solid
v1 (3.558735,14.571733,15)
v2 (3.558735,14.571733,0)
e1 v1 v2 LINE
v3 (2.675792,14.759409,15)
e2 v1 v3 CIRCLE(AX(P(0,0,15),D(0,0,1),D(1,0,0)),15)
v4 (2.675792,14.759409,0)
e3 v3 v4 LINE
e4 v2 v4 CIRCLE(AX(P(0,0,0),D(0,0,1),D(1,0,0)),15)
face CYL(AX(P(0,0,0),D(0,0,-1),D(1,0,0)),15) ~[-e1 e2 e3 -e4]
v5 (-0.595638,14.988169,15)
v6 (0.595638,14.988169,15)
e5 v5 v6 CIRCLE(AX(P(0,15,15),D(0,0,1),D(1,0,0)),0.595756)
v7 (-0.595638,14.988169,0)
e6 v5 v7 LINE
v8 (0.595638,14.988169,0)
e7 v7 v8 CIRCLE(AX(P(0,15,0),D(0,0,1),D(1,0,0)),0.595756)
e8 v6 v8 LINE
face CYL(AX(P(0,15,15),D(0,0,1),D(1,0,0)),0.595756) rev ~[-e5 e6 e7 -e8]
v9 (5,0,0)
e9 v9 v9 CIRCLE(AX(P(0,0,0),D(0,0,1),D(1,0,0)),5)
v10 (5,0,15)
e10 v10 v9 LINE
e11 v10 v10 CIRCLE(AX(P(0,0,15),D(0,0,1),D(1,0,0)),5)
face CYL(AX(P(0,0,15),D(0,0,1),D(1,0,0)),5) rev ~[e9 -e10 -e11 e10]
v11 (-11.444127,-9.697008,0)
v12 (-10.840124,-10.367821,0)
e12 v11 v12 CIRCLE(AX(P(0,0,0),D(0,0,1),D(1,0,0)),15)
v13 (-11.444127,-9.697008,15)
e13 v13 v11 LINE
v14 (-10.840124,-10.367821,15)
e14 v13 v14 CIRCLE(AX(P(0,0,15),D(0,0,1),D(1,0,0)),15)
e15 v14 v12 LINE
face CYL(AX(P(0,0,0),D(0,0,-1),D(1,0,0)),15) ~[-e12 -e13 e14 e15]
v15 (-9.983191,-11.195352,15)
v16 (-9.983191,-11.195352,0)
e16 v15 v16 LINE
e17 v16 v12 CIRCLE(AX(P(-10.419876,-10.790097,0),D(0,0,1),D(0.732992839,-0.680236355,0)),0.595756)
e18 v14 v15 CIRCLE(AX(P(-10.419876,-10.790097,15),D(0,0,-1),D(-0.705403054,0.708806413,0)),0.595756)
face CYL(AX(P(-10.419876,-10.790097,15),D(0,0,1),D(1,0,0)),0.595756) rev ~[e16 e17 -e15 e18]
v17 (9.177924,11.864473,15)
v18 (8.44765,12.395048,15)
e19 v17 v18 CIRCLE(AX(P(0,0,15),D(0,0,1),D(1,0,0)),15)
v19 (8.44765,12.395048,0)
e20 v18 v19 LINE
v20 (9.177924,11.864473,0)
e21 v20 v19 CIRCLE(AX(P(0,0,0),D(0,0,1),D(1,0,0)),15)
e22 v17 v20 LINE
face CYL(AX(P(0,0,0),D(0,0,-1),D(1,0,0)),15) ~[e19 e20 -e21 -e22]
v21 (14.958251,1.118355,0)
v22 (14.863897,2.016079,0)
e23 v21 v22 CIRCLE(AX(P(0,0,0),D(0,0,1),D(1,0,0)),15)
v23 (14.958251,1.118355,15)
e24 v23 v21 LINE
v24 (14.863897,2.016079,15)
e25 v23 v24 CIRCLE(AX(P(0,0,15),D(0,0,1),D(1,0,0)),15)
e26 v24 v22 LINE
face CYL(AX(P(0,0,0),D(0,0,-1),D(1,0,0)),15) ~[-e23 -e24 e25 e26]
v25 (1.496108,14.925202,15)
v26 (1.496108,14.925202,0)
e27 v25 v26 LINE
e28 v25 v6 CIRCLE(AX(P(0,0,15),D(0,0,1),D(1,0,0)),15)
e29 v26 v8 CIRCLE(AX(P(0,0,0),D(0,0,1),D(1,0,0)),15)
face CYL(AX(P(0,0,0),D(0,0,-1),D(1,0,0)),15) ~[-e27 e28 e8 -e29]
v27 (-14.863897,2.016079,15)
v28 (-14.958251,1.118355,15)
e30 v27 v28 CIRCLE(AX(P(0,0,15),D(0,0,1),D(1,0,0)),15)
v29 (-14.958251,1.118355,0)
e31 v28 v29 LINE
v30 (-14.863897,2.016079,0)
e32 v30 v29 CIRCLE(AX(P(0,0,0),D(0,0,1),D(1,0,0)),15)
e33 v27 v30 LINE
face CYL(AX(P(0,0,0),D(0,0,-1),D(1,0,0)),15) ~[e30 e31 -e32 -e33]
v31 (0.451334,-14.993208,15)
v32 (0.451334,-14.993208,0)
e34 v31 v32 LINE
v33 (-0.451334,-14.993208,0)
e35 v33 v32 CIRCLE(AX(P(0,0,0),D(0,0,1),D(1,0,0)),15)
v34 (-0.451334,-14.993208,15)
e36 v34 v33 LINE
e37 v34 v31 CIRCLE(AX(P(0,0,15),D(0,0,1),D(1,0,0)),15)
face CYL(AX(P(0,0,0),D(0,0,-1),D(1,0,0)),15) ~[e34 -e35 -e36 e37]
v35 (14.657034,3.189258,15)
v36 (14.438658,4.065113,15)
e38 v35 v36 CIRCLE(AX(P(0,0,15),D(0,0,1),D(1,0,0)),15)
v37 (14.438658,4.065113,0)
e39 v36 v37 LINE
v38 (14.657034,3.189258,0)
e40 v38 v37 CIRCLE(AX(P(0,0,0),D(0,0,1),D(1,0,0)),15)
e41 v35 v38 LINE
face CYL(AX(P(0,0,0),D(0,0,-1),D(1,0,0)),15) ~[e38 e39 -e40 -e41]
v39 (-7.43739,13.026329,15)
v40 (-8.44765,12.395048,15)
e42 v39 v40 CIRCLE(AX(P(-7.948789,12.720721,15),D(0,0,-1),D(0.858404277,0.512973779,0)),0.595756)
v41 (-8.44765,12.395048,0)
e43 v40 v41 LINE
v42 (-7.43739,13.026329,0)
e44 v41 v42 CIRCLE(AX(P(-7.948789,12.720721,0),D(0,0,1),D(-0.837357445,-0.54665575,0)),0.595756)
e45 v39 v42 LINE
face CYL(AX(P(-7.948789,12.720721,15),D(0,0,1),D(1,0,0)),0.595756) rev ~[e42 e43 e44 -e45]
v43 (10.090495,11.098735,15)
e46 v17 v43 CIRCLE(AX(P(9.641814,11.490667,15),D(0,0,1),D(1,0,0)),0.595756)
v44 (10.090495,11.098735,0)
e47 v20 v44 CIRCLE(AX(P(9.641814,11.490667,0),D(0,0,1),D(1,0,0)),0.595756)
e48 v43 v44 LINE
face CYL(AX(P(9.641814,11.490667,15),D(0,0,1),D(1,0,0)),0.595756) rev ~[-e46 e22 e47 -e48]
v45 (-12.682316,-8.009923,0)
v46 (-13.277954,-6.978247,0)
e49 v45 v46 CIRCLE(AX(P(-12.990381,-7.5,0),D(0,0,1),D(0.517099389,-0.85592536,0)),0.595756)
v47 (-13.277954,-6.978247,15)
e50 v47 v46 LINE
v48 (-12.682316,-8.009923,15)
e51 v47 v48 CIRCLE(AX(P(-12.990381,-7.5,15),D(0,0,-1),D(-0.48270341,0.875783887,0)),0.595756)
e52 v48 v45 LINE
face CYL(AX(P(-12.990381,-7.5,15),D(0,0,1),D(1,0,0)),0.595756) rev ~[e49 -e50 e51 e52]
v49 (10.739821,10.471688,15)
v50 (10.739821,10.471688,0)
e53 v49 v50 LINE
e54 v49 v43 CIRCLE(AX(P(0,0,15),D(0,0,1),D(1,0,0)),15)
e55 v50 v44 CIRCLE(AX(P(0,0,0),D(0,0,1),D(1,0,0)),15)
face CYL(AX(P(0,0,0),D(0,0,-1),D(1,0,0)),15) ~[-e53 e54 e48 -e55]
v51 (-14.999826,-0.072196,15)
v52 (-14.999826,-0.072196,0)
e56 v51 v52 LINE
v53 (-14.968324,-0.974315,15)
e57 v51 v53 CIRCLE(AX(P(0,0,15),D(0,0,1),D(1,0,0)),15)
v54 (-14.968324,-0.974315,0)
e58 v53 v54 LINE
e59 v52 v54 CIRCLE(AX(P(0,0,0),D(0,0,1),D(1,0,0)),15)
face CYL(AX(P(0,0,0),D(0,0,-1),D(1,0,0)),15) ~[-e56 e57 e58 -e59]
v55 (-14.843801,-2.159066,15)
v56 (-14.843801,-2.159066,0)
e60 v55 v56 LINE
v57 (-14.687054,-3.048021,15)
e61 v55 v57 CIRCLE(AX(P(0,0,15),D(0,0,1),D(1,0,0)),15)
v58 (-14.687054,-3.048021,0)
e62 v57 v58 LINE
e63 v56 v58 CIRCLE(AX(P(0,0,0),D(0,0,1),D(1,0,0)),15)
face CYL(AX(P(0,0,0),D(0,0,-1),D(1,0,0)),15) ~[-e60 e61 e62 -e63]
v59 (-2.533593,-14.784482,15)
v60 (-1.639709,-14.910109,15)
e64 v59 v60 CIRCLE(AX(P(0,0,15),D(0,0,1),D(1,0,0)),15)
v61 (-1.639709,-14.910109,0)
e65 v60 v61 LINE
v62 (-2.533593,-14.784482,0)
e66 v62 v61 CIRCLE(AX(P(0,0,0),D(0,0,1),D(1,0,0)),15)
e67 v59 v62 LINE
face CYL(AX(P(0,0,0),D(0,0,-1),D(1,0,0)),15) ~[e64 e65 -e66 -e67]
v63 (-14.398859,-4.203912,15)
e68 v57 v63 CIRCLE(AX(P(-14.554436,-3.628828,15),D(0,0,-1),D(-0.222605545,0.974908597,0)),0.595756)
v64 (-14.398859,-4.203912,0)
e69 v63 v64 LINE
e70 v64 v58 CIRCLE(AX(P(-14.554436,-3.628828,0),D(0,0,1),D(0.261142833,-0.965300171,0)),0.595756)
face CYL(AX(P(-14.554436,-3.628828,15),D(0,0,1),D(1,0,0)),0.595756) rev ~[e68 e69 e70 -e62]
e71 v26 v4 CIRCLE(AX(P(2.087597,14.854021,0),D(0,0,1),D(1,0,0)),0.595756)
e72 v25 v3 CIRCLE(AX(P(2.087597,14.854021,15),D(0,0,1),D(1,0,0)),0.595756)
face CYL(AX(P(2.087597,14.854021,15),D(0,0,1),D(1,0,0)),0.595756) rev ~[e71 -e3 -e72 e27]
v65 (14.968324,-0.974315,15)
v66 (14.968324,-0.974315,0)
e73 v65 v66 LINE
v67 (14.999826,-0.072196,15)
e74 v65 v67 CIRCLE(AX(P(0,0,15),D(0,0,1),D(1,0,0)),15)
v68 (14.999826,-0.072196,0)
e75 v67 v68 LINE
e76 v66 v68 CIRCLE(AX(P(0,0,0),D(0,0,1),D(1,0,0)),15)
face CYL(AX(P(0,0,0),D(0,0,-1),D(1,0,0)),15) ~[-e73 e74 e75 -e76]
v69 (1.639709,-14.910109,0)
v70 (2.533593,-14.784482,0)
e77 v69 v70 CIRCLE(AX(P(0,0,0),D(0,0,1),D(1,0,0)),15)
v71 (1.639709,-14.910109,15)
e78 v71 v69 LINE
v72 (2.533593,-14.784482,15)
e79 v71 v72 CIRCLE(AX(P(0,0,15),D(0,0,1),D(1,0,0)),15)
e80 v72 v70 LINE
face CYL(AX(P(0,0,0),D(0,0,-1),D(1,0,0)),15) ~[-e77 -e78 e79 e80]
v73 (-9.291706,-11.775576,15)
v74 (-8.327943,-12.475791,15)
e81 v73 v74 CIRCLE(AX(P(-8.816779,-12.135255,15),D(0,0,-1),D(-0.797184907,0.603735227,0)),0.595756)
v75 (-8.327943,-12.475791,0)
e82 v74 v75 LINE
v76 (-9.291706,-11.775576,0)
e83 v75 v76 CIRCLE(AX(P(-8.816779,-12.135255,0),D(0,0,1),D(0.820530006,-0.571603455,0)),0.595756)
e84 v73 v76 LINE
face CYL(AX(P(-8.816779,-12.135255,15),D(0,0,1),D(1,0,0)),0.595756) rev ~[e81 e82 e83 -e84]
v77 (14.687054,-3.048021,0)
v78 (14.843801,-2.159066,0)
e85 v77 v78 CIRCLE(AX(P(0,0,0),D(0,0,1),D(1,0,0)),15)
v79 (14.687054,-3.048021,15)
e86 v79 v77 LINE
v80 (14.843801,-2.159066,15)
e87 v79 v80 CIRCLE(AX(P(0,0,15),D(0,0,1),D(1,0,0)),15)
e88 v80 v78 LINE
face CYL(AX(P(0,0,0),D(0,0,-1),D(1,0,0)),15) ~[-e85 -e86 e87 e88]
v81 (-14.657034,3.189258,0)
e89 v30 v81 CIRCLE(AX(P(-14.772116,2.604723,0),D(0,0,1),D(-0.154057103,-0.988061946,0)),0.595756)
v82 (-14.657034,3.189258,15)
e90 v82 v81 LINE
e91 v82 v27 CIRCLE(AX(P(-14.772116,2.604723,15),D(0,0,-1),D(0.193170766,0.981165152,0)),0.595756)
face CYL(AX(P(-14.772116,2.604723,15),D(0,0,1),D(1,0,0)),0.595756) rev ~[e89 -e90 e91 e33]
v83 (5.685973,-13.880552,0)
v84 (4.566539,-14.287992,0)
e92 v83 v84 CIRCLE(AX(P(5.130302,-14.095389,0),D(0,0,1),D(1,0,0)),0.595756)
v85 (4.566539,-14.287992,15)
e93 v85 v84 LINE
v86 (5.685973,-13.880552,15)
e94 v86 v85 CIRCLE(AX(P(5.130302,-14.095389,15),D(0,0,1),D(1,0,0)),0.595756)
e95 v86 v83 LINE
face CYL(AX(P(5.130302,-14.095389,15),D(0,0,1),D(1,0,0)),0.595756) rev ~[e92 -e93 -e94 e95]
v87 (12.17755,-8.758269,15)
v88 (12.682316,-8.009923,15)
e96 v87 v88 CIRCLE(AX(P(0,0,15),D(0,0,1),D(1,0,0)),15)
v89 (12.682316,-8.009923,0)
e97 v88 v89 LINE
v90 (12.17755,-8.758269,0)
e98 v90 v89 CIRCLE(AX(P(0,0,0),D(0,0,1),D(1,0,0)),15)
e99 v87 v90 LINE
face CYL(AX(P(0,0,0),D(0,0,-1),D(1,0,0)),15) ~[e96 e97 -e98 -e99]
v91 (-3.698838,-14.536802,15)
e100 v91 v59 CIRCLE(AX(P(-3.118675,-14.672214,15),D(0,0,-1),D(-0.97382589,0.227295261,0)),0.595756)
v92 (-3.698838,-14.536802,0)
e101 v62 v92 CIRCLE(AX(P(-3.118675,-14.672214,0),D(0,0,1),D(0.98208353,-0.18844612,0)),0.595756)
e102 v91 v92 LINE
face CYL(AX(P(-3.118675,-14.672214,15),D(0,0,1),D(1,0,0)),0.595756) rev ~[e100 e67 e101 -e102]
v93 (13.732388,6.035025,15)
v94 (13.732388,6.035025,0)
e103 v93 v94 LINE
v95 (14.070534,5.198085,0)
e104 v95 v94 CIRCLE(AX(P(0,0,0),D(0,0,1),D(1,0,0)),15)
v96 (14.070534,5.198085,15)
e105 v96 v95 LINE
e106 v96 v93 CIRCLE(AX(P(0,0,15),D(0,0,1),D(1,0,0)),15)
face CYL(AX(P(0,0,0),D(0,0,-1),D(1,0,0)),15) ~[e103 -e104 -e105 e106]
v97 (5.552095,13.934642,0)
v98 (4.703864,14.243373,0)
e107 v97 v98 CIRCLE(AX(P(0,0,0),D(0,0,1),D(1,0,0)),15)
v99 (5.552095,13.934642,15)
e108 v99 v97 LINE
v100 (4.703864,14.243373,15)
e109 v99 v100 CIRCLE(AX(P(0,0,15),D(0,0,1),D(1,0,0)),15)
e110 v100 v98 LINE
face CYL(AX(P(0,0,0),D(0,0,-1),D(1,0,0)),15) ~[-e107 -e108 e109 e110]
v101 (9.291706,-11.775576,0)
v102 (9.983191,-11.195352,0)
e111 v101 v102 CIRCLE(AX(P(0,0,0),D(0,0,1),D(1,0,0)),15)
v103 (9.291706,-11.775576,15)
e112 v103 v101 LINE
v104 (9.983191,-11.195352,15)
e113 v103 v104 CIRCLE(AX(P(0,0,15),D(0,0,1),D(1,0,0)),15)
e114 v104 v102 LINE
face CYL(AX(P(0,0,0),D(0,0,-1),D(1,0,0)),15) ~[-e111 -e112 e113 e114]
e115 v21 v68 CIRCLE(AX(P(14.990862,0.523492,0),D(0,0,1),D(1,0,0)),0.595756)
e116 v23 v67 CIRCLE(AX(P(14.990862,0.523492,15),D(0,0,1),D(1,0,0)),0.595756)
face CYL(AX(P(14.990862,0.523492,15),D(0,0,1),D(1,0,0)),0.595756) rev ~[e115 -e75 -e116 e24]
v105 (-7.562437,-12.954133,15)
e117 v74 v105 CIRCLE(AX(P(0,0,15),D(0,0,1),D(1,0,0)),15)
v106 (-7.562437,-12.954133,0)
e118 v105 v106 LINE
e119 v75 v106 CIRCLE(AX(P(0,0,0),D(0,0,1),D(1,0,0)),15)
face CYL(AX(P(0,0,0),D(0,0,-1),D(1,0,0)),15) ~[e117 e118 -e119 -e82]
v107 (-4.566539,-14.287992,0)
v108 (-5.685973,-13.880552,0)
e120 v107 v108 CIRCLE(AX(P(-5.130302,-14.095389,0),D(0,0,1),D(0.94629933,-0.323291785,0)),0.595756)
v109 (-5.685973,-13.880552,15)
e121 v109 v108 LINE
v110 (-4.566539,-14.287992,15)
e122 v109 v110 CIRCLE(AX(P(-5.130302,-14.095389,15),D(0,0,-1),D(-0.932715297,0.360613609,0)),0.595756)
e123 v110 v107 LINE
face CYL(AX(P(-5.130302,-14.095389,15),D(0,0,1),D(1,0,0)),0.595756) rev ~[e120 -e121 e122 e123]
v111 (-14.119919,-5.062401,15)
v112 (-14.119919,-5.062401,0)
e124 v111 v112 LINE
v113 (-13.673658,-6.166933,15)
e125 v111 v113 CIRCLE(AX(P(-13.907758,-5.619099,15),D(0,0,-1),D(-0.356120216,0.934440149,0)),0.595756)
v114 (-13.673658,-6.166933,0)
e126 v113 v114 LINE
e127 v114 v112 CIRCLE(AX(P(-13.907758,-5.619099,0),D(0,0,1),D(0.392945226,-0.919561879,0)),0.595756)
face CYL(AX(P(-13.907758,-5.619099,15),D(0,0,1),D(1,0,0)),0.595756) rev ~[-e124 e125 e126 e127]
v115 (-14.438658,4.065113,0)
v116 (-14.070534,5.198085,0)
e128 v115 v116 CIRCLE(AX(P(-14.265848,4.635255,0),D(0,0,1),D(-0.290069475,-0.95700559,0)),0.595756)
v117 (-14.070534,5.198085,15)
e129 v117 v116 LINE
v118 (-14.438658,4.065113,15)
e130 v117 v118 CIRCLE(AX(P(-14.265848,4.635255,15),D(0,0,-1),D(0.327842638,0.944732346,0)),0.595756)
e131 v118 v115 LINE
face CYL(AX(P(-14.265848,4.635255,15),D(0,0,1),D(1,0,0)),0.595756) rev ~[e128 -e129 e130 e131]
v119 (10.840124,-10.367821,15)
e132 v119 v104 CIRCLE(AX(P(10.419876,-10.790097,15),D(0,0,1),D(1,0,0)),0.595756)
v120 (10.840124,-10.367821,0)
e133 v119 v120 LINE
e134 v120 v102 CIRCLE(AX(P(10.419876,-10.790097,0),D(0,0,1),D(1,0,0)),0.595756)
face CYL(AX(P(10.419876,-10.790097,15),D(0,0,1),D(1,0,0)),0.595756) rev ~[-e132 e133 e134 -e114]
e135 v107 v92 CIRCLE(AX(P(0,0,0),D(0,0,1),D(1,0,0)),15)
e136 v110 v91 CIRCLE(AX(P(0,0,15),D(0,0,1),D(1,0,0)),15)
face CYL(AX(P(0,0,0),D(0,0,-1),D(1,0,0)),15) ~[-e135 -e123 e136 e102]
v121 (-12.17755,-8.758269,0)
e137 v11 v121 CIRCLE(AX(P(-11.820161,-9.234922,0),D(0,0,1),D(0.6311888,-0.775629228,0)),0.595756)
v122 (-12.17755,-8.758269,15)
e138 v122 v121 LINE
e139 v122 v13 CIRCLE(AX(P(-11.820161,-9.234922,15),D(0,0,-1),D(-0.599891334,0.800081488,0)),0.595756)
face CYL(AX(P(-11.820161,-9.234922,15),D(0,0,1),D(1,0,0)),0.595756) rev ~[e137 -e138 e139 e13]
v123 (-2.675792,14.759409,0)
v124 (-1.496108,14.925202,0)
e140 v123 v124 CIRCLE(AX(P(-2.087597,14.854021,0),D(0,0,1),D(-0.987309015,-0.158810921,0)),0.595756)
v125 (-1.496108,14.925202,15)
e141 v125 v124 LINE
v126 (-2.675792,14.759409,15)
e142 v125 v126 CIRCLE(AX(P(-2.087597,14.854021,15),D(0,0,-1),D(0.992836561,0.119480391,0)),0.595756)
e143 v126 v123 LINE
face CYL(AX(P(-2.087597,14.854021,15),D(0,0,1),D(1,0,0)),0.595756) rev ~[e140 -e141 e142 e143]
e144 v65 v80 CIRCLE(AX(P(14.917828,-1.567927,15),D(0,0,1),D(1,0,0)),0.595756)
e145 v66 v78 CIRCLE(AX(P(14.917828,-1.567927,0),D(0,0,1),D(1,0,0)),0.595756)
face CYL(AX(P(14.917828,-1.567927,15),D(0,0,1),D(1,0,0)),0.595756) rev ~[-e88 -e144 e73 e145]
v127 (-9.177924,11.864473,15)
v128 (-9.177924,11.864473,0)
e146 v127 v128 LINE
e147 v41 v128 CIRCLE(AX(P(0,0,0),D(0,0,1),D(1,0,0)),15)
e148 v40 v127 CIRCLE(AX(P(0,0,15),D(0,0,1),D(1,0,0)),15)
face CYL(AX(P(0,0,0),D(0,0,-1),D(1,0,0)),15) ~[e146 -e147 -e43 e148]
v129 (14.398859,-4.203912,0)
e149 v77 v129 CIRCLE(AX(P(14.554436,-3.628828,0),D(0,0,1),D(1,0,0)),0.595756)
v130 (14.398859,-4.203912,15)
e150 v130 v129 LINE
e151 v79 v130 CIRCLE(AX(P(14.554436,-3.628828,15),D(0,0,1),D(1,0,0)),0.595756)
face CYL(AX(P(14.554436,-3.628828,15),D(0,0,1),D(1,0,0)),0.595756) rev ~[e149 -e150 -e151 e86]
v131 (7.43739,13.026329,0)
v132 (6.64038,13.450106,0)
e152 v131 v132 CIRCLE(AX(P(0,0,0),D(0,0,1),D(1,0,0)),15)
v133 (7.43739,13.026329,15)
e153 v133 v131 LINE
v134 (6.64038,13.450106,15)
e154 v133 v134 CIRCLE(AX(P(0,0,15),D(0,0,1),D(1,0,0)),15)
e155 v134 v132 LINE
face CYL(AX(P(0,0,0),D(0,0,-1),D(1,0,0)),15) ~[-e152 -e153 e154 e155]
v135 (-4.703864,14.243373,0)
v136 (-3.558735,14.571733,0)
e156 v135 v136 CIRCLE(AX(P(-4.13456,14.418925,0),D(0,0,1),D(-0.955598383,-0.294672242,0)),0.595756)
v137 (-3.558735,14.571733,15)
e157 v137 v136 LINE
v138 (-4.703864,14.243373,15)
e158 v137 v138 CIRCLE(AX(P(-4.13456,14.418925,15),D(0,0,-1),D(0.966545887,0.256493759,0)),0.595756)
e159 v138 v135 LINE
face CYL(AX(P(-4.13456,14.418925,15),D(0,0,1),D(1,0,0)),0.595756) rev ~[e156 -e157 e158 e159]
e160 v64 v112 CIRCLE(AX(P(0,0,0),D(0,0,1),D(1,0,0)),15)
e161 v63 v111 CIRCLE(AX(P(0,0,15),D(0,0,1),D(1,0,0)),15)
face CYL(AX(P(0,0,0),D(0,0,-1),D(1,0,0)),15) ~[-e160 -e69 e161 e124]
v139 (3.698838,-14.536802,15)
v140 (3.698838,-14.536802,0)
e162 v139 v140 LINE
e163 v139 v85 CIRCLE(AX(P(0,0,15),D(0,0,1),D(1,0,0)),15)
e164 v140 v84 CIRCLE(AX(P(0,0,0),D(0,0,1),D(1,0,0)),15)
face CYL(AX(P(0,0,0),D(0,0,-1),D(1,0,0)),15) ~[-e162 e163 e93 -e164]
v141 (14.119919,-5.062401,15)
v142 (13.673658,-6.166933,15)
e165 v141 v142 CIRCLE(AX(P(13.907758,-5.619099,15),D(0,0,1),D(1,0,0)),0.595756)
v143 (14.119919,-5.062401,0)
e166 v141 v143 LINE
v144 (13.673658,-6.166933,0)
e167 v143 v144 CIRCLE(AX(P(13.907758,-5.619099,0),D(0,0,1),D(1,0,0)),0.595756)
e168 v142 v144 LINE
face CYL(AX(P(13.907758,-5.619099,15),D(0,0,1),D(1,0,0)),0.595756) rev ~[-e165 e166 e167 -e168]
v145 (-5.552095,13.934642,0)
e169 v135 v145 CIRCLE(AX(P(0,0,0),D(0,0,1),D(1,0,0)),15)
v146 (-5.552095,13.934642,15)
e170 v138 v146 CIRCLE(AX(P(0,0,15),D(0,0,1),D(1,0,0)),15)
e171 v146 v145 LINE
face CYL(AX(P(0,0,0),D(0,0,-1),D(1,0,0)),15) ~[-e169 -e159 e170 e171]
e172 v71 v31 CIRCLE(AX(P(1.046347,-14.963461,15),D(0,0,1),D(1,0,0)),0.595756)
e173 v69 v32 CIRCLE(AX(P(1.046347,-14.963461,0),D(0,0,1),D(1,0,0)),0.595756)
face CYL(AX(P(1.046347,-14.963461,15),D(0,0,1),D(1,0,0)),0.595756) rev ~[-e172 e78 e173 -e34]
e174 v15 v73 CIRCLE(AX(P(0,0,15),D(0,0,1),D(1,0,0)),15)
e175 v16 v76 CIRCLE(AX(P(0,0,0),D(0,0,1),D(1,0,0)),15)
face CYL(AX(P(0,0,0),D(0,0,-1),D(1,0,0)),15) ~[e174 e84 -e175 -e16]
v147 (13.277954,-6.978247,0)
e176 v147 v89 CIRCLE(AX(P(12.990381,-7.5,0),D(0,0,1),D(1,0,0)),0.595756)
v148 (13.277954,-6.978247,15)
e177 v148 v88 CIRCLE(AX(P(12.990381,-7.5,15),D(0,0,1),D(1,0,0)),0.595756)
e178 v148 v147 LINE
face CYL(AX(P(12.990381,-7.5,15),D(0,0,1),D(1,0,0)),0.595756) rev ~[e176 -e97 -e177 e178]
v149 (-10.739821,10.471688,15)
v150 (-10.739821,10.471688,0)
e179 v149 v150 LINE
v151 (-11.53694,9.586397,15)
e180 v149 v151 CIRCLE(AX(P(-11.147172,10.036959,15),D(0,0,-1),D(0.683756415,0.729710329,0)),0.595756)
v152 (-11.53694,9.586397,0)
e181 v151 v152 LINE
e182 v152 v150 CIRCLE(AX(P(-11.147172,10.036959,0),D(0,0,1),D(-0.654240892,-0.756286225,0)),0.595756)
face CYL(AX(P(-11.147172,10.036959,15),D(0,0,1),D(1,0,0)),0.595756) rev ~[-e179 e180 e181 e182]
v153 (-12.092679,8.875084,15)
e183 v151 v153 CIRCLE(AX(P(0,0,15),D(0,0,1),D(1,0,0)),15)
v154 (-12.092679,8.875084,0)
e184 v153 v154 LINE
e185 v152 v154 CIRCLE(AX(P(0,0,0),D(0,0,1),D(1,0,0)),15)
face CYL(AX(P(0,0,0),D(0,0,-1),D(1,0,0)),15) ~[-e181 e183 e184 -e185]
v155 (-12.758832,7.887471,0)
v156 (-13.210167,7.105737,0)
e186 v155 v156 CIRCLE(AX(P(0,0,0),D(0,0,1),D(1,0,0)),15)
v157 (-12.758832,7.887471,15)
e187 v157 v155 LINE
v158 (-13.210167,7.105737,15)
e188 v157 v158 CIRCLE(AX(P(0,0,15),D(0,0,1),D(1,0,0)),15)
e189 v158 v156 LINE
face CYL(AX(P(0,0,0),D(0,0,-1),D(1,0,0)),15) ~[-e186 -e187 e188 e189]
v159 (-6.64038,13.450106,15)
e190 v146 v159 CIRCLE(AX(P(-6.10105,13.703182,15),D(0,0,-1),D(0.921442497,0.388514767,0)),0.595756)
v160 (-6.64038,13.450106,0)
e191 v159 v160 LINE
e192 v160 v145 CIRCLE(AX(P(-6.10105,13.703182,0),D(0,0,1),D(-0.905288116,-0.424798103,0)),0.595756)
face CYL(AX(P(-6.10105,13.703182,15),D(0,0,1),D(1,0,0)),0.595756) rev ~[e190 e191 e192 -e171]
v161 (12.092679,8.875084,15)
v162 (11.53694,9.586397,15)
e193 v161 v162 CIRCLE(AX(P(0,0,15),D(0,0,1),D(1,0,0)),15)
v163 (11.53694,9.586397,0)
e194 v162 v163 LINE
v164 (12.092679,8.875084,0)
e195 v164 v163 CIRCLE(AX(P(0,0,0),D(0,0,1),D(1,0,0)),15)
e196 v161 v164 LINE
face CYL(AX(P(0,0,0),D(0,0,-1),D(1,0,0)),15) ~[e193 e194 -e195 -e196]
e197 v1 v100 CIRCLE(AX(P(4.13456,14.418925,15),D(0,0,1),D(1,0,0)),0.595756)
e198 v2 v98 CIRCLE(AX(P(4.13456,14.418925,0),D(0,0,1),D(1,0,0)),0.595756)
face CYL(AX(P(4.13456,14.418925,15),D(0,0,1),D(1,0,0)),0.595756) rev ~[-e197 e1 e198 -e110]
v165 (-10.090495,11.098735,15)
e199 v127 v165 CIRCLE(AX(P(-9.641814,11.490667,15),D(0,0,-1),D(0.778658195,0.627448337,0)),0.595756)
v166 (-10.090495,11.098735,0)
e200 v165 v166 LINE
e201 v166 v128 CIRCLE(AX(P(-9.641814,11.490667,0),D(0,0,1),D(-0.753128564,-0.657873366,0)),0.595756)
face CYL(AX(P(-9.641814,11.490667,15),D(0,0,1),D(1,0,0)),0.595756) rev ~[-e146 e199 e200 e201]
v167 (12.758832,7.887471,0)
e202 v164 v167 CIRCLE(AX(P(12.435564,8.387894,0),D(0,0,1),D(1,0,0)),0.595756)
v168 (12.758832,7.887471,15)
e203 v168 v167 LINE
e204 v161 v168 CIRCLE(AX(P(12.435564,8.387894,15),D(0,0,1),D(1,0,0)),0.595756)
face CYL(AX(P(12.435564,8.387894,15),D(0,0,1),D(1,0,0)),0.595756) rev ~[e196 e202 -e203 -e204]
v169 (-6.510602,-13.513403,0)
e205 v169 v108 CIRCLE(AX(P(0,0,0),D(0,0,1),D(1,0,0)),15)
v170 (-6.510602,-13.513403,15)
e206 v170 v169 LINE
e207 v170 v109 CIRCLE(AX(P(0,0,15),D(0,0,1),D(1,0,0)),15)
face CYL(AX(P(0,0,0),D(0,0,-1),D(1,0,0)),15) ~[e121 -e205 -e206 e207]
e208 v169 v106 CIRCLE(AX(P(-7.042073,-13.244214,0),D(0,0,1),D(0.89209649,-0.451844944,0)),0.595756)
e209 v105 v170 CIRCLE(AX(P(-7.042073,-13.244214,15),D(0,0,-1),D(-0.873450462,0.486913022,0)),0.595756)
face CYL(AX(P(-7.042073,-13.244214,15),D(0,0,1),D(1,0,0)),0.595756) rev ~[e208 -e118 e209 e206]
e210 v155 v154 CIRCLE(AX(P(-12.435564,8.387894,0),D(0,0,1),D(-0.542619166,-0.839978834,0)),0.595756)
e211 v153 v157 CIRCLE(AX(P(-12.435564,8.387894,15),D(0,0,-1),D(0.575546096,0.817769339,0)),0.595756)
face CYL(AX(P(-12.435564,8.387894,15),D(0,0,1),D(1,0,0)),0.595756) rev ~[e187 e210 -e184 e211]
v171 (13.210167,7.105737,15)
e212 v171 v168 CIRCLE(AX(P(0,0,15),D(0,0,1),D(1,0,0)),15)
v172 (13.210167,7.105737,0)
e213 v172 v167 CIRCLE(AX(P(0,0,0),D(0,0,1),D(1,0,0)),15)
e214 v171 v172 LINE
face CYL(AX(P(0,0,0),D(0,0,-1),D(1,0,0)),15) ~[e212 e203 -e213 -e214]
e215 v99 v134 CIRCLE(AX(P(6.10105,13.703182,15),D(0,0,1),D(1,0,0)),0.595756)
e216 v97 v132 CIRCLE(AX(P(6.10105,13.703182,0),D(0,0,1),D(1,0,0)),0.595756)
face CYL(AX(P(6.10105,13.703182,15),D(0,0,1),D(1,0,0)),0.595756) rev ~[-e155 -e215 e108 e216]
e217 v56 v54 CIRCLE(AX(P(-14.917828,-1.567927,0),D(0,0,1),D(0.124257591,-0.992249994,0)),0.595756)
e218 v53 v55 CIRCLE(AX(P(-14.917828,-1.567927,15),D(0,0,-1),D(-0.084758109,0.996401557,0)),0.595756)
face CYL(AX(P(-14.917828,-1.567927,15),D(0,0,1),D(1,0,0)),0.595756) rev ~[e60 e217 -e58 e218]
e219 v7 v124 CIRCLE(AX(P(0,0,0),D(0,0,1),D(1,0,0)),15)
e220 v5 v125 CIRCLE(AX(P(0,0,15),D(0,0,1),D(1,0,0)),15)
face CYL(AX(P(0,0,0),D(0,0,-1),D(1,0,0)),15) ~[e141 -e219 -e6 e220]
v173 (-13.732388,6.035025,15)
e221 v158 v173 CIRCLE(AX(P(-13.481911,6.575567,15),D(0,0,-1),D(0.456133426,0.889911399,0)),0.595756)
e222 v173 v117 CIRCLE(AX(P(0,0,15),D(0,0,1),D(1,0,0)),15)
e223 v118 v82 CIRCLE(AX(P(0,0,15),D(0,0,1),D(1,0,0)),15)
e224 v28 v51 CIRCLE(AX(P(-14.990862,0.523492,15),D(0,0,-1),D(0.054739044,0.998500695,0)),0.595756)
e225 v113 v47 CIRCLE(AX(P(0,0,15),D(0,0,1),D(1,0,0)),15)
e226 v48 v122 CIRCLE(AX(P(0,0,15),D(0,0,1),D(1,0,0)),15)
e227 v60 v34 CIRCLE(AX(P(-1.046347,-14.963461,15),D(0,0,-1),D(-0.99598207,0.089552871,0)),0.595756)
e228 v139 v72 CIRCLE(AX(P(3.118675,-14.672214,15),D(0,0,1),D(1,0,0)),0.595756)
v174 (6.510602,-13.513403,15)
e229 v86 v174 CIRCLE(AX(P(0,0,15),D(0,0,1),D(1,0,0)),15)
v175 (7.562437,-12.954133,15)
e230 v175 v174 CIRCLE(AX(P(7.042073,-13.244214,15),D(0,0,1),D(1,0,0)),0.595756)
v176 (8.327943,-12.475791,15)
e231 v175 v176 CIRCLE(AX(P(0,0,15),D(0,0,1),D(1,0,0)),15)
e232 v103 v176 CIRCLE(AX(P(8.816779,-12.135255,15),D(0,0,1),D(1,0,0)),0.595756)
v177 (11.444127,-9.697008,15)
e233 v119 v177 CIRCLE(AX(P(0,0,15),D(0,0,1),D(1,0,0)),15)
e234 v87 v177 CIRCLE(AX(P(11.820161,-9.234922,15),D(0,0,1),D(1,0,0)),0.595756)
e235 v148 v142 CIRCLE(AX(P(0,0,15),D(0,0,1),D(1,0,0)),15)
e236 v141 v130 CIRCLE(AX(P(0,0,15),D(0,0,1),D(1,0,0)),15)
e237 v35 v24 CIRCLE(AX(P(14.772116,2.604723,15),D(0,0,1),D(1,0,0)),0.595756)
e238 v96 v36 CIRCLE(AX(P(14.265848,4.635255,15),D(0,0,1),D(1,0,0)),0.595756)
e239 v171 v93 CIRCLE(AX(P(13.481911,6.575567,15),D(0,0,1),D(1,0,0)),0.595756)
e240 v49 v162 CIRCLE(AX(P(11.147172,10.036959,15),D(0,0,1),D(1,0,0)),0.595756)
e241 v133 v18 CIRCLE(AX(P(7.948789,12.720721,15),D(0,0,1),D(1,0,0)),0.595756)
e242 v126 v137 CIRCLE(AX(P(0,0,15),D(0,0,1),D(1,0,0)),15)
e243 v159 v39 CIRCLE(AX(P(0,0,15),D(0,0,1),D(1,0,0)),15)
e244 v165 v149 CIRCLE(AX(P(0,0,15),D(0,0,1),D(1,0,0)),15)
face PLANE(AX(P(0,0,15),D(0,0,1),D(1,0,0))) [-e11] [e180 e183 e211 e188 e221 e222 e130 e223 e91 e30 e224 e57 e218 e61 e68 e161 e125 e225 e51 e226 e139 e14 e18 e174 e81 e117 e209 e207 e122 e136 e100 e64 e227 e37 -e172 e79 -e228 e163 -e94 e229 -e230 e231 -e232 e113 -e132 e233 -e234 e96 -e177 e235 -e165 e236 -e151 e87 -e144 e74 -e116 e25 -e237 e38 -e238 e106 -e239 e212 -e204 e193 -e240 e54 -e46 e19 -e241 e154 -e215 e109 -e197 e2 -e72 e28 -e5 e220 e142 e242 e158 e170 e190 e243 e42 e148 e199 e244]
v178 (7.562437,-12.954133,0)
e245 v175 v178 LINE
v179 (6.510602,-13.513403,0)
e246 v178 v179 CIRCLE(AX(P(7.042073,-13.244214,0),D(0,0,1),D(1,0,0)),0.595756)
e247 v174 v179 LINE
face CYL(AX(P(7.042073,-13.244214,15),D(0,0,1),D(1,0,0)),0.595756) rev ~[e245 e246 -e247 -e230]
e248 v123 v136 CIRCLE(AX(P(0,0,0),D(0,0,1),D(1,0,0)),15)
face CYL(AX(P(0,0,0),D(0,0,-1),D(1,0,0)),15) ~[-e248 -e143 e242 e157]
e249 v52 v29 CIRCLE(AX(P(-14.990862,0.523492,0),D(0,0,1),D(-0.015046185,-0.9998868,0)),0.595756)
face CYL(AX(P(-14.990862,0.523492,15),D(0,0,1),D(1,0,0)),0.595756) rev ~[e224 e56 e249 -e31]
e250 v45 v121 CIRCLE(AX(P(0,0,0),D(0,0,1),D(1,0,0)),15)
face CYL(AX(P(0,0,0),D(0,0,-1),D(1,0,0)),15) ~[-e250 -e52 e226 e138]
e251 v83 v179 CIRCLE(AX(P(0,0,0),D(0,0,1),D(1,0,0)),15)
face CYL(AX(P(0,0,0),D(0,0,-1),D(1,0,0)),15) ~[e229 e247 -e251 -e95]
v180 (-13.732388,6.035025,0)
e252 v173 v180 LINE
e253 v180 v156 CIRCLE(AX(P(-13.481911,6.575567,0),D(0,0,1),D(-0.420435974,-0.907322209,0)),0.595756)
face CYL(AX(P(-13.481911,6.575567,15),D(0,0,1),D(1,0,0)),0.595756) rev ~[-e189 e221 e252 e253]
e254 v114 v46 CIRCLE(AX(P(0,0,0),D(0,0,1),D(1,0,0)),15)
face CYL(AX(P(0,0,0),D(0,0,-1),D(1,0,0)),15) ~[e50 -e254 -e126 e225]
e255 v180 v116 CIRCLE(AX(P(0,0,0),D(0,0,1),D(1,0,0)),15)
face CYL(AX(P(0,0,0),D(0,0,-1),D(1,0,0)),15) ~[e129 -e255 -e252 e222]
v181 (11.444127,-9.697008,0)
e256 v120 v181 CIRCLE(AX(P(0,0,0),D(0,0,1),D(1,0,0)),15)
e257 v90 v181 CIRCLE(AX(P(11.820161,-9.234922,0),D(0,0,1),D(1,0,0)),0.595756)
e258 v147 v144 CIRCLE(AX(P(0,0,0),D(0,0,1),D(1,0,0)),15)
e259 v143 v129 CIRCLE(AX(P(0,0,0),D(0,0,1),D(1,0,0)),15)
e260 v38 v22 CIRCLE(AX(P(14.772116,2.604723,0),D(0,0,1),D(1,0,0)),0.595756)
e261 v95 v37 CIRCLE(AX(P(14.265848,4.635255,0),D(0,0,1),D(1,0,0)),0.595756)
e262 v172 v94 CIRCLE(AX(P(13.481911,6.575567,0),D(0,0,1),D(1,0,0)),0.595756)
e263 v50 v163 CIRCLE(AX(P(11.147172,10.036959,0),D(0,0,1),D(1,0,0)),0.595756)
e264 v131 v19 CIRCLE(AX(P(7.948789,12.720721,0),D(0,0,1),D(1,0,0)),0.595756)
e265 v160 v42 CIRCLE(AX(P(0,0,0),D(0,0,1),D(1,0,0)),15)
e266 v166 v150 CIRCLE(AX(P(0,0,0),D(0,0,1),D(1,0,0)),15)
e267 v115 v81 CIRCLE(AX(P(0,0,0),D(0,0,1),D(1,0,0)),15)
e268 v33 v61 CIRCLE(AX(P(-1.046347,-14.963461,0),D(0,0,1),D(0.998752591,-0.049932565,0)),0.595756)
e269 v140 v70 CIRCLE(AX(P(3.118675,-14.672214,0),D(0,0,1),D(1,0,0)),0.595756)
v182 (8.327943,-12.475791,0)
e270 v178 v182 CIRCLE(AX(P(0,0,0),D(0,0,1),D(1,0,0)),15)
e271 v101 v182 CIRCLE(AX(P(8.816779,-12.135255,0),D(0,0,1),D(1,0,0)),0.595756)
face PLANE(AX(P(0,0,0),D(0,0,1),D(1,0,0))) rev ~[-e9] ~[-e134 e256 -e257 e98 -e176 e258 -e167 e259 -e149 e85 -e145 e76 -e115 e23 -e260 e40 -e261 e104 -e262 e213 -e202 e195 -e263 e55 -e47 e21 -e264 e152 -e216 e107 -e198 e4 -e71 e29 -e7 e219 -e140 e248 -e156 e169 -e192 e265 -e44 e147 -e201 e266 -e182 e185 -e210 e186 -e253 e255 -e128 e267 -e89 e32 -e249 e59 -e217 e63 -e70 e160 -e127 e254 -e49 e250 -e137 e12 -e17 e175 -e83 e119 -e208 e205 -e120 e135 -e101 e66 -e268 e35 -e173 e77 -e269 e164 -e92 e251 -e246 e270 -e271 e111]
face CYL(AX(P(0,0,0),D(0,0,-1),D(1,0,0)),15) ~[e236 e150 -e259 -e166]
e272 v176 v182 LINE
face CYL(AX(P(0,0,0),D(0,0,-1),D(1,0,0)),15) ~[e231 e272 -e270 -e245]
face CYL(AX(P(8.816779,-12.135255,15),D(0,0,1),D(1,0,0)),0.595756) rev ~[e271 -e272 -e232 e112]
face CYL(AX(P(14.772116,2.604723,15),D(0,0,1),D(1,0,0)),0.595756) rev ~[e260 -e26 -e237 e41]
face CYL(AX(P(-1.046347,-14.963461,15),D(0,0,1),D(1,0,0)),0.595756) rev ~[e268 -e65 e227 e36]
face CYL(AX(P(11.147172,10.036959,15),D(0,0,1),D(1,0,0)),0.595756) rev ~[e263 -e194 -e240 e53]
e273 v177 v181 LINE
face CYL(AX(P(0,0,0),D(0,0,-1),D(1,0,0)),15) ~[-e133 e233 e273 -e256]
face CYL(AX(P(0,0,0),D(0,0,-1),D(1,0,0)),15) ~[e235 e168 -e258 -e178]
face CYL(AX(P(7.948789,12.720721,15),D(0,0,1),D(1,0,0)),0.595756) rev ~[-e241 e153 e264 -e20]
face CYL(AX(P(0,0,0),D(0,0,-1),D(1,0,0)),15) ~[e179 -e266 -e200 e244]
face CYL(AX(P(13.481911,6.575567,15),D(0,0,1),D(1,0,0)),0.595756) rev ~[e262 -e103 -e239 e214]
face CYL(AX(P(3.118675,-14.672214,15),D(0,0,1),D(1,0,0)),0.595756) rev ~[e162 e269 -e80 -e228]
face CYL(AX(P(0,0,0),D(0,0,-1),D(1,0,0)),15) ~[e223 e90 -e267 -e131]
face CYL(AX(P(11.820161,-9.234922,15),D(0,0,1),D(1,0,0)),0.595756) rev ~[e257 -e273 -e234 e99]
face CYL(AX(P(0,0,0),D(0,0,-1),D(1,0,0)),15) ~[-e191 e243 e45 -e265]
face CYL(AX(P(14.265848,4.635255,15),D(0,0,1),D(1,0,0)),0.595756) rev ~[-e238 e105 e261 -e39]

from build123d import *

# Parameters (mm, degrees)
SKETCH1_R           = 15
BOSS_EXTRUDE1_DEPTH = 15
SKETCH2_R           = 5
CUT_EXTRUDE1_DEPTH  = 15
SKETCH3_R           = 0.595755822
CUT_EXTRUDE2_DEPTH  = 15


with BuildPart() as part:
    # Sketch1 → Boss-Extrude1 (new body)
    with BuildSketch(Plane.XY):
        Circle(SKETCH1_R)
    extrude(amount=BOSS_EXTRUDE1_DEPTH)

    # Sketch2 → Cut-Extrude1 (cut)
    with BuildSketch(Plane.XY.offset(15)):
        Circle(SKETCH2_R)
    extrude(amount=-CUT_EXTRUDE1_DEPTH, mode=Mode.SUBTRACT)

    # Sketch3 → Cut-Extrude2 (cut)
    with BuildSketch(Plane.XY.offset(15)):
        with Locations((0, 15)):
            Circle(SKETCH3_R)
        with Locations((2.087596514, 14.854021031)):
            Circle(SKETCH3_R)
        with Locations((4.134560337, 14.418925439)):
            Circle(SKETCH3_R)
        with Locations((6.101049646, 13.703181865)):
            Circle(SKETCH3_R)
        with Locations((7.948788963, 12.720721442)):
            Circle(SKETCH3_R)
        with Locations((9.641814145, 11.490666647)):
            Circle(SKETCH3_R)
        with Locations((11.147172382, 10.036959095)):
            Circle(SKETCH3_R)
        with Locations((12.435563588, 8.387893552)):
            Circle(SKETCH3_R)
        with Locations((13.481910694, 6.575567202)):
            Circle(SKETCH3_R)
        with Locations((14.265847744, 4.635254916)):
            Circle(SKETCH3_R)
        with Locations((14.772116295, 2.604722665)):
            Circle(SKETCH3_R)
        with Locations((14.990862405, 0.523492451)):
            Circle(SKETCH3_R)
        with Locations((14.917828431, -1.567926949)):
            Circle(SKETCH3_R)
        with Locations((14.554435894, -3.628828434)):
            Circle(SKETCH3_R)
        with Locations((13.907757819, -5.619098901)):
            Circle(SKETCH3_R)
        with Locations((12.990381057, -7.5)):
            Circle(SKETCH3_R)
        with Locations((11.820161304, -9.23492213)):
            Circle(SKETCH3_R)
        with Locations((10.419875557, -10.790097005)):
            Circle(SKETCH3_R)
        with Locations((8.816778784, -12.135254916)):
            Circle(SKETCH3_R)
        with Locations((7.042073442, -13.244213893)):
            Circle(SKETCH3_R)
        with Locations((5.13030215, -14.095389312)):
            Circle(SKETCH3_R)
        with Locations((3.118675362, -14.672214011)):
            Circle(SKETCH3_R)
        with Locations((1.046347106, -14.963460754)):
            Circle(SKETCH3_R)
        with Locations((-1.046347106, -14.963460754)):
            Circle(SKETCH3_R)
        with Locations((-3.118675362, -14.672214011)):
            Circle(SKETCH3_R)
        with Locations((-5.13030215, -14.095389312)):
            Circle(SKETCH3_R)
        with Locations((-7.042073442, -13.244213893)):
            Circle(SKETCH3_R)
        with Locations((-8.816778784, -12.135254916)):
            Circle(SKETCH3_R)
        with Locations((-10.419875557, -10.790097005)):
            Circle(SKETCH3_R)
        with Locations((-11.820161304, -9.23492213)):
            Circle(SKETCH3_R)
        with Locations((-12.990381057, -7.5)):
            Circle(SKETCH3_R)
        with Locations((-13.907757818, -5.619098901)):
            Circle(SKETCH3_R)
        with Locations((-14.554435894, -3.628828434)):
            Circle(SKETCH3_R)
        with Locations((-14.917828431, -1.567926949)):
            Circle(SKETCH3_R)
        with Locations((-14.990862405, 0.523492451)):
            Circle(SKETCH3_R)
        with Locations((-14.772116295, 2.604722665)):
            Circle(SKETCH3_R)
        with Locations((-14.265847744, 4.635254916)):
            Circle(SKETCH3_R)
        with Locations((-13.481910694, 6.575567202)):
            Circle(SKETCH3_R)
        with Locations((-12.435563588, 8.387893552)):
            Circle(SKETCH3_R)
        with Locations((-11.147172382, 10.036959095)):
            Circle(SKETCH3_R)
        with Locations((-9.641814145, 11.490666647)):
            Circle(SKETCH3_R)
        with Locations((-7.948788963, 12.720721442)):
            Circle(SKETCH3_R)
        with Locations((-6.101049646, 13.703181865)):
            Circle(SKETCH3_R)
        with Locations((-4.134560337, 14.418925439)):
            Circle(SKETCH3_R)
        with Locations((-2.087596514, 14.854021031)):
            Circle(SKETCH3_R)
    extrude(amount=-CUT_EXTRUDE2_DEPTH, mode=Mode.SUBTRACT)


solid = part.part
